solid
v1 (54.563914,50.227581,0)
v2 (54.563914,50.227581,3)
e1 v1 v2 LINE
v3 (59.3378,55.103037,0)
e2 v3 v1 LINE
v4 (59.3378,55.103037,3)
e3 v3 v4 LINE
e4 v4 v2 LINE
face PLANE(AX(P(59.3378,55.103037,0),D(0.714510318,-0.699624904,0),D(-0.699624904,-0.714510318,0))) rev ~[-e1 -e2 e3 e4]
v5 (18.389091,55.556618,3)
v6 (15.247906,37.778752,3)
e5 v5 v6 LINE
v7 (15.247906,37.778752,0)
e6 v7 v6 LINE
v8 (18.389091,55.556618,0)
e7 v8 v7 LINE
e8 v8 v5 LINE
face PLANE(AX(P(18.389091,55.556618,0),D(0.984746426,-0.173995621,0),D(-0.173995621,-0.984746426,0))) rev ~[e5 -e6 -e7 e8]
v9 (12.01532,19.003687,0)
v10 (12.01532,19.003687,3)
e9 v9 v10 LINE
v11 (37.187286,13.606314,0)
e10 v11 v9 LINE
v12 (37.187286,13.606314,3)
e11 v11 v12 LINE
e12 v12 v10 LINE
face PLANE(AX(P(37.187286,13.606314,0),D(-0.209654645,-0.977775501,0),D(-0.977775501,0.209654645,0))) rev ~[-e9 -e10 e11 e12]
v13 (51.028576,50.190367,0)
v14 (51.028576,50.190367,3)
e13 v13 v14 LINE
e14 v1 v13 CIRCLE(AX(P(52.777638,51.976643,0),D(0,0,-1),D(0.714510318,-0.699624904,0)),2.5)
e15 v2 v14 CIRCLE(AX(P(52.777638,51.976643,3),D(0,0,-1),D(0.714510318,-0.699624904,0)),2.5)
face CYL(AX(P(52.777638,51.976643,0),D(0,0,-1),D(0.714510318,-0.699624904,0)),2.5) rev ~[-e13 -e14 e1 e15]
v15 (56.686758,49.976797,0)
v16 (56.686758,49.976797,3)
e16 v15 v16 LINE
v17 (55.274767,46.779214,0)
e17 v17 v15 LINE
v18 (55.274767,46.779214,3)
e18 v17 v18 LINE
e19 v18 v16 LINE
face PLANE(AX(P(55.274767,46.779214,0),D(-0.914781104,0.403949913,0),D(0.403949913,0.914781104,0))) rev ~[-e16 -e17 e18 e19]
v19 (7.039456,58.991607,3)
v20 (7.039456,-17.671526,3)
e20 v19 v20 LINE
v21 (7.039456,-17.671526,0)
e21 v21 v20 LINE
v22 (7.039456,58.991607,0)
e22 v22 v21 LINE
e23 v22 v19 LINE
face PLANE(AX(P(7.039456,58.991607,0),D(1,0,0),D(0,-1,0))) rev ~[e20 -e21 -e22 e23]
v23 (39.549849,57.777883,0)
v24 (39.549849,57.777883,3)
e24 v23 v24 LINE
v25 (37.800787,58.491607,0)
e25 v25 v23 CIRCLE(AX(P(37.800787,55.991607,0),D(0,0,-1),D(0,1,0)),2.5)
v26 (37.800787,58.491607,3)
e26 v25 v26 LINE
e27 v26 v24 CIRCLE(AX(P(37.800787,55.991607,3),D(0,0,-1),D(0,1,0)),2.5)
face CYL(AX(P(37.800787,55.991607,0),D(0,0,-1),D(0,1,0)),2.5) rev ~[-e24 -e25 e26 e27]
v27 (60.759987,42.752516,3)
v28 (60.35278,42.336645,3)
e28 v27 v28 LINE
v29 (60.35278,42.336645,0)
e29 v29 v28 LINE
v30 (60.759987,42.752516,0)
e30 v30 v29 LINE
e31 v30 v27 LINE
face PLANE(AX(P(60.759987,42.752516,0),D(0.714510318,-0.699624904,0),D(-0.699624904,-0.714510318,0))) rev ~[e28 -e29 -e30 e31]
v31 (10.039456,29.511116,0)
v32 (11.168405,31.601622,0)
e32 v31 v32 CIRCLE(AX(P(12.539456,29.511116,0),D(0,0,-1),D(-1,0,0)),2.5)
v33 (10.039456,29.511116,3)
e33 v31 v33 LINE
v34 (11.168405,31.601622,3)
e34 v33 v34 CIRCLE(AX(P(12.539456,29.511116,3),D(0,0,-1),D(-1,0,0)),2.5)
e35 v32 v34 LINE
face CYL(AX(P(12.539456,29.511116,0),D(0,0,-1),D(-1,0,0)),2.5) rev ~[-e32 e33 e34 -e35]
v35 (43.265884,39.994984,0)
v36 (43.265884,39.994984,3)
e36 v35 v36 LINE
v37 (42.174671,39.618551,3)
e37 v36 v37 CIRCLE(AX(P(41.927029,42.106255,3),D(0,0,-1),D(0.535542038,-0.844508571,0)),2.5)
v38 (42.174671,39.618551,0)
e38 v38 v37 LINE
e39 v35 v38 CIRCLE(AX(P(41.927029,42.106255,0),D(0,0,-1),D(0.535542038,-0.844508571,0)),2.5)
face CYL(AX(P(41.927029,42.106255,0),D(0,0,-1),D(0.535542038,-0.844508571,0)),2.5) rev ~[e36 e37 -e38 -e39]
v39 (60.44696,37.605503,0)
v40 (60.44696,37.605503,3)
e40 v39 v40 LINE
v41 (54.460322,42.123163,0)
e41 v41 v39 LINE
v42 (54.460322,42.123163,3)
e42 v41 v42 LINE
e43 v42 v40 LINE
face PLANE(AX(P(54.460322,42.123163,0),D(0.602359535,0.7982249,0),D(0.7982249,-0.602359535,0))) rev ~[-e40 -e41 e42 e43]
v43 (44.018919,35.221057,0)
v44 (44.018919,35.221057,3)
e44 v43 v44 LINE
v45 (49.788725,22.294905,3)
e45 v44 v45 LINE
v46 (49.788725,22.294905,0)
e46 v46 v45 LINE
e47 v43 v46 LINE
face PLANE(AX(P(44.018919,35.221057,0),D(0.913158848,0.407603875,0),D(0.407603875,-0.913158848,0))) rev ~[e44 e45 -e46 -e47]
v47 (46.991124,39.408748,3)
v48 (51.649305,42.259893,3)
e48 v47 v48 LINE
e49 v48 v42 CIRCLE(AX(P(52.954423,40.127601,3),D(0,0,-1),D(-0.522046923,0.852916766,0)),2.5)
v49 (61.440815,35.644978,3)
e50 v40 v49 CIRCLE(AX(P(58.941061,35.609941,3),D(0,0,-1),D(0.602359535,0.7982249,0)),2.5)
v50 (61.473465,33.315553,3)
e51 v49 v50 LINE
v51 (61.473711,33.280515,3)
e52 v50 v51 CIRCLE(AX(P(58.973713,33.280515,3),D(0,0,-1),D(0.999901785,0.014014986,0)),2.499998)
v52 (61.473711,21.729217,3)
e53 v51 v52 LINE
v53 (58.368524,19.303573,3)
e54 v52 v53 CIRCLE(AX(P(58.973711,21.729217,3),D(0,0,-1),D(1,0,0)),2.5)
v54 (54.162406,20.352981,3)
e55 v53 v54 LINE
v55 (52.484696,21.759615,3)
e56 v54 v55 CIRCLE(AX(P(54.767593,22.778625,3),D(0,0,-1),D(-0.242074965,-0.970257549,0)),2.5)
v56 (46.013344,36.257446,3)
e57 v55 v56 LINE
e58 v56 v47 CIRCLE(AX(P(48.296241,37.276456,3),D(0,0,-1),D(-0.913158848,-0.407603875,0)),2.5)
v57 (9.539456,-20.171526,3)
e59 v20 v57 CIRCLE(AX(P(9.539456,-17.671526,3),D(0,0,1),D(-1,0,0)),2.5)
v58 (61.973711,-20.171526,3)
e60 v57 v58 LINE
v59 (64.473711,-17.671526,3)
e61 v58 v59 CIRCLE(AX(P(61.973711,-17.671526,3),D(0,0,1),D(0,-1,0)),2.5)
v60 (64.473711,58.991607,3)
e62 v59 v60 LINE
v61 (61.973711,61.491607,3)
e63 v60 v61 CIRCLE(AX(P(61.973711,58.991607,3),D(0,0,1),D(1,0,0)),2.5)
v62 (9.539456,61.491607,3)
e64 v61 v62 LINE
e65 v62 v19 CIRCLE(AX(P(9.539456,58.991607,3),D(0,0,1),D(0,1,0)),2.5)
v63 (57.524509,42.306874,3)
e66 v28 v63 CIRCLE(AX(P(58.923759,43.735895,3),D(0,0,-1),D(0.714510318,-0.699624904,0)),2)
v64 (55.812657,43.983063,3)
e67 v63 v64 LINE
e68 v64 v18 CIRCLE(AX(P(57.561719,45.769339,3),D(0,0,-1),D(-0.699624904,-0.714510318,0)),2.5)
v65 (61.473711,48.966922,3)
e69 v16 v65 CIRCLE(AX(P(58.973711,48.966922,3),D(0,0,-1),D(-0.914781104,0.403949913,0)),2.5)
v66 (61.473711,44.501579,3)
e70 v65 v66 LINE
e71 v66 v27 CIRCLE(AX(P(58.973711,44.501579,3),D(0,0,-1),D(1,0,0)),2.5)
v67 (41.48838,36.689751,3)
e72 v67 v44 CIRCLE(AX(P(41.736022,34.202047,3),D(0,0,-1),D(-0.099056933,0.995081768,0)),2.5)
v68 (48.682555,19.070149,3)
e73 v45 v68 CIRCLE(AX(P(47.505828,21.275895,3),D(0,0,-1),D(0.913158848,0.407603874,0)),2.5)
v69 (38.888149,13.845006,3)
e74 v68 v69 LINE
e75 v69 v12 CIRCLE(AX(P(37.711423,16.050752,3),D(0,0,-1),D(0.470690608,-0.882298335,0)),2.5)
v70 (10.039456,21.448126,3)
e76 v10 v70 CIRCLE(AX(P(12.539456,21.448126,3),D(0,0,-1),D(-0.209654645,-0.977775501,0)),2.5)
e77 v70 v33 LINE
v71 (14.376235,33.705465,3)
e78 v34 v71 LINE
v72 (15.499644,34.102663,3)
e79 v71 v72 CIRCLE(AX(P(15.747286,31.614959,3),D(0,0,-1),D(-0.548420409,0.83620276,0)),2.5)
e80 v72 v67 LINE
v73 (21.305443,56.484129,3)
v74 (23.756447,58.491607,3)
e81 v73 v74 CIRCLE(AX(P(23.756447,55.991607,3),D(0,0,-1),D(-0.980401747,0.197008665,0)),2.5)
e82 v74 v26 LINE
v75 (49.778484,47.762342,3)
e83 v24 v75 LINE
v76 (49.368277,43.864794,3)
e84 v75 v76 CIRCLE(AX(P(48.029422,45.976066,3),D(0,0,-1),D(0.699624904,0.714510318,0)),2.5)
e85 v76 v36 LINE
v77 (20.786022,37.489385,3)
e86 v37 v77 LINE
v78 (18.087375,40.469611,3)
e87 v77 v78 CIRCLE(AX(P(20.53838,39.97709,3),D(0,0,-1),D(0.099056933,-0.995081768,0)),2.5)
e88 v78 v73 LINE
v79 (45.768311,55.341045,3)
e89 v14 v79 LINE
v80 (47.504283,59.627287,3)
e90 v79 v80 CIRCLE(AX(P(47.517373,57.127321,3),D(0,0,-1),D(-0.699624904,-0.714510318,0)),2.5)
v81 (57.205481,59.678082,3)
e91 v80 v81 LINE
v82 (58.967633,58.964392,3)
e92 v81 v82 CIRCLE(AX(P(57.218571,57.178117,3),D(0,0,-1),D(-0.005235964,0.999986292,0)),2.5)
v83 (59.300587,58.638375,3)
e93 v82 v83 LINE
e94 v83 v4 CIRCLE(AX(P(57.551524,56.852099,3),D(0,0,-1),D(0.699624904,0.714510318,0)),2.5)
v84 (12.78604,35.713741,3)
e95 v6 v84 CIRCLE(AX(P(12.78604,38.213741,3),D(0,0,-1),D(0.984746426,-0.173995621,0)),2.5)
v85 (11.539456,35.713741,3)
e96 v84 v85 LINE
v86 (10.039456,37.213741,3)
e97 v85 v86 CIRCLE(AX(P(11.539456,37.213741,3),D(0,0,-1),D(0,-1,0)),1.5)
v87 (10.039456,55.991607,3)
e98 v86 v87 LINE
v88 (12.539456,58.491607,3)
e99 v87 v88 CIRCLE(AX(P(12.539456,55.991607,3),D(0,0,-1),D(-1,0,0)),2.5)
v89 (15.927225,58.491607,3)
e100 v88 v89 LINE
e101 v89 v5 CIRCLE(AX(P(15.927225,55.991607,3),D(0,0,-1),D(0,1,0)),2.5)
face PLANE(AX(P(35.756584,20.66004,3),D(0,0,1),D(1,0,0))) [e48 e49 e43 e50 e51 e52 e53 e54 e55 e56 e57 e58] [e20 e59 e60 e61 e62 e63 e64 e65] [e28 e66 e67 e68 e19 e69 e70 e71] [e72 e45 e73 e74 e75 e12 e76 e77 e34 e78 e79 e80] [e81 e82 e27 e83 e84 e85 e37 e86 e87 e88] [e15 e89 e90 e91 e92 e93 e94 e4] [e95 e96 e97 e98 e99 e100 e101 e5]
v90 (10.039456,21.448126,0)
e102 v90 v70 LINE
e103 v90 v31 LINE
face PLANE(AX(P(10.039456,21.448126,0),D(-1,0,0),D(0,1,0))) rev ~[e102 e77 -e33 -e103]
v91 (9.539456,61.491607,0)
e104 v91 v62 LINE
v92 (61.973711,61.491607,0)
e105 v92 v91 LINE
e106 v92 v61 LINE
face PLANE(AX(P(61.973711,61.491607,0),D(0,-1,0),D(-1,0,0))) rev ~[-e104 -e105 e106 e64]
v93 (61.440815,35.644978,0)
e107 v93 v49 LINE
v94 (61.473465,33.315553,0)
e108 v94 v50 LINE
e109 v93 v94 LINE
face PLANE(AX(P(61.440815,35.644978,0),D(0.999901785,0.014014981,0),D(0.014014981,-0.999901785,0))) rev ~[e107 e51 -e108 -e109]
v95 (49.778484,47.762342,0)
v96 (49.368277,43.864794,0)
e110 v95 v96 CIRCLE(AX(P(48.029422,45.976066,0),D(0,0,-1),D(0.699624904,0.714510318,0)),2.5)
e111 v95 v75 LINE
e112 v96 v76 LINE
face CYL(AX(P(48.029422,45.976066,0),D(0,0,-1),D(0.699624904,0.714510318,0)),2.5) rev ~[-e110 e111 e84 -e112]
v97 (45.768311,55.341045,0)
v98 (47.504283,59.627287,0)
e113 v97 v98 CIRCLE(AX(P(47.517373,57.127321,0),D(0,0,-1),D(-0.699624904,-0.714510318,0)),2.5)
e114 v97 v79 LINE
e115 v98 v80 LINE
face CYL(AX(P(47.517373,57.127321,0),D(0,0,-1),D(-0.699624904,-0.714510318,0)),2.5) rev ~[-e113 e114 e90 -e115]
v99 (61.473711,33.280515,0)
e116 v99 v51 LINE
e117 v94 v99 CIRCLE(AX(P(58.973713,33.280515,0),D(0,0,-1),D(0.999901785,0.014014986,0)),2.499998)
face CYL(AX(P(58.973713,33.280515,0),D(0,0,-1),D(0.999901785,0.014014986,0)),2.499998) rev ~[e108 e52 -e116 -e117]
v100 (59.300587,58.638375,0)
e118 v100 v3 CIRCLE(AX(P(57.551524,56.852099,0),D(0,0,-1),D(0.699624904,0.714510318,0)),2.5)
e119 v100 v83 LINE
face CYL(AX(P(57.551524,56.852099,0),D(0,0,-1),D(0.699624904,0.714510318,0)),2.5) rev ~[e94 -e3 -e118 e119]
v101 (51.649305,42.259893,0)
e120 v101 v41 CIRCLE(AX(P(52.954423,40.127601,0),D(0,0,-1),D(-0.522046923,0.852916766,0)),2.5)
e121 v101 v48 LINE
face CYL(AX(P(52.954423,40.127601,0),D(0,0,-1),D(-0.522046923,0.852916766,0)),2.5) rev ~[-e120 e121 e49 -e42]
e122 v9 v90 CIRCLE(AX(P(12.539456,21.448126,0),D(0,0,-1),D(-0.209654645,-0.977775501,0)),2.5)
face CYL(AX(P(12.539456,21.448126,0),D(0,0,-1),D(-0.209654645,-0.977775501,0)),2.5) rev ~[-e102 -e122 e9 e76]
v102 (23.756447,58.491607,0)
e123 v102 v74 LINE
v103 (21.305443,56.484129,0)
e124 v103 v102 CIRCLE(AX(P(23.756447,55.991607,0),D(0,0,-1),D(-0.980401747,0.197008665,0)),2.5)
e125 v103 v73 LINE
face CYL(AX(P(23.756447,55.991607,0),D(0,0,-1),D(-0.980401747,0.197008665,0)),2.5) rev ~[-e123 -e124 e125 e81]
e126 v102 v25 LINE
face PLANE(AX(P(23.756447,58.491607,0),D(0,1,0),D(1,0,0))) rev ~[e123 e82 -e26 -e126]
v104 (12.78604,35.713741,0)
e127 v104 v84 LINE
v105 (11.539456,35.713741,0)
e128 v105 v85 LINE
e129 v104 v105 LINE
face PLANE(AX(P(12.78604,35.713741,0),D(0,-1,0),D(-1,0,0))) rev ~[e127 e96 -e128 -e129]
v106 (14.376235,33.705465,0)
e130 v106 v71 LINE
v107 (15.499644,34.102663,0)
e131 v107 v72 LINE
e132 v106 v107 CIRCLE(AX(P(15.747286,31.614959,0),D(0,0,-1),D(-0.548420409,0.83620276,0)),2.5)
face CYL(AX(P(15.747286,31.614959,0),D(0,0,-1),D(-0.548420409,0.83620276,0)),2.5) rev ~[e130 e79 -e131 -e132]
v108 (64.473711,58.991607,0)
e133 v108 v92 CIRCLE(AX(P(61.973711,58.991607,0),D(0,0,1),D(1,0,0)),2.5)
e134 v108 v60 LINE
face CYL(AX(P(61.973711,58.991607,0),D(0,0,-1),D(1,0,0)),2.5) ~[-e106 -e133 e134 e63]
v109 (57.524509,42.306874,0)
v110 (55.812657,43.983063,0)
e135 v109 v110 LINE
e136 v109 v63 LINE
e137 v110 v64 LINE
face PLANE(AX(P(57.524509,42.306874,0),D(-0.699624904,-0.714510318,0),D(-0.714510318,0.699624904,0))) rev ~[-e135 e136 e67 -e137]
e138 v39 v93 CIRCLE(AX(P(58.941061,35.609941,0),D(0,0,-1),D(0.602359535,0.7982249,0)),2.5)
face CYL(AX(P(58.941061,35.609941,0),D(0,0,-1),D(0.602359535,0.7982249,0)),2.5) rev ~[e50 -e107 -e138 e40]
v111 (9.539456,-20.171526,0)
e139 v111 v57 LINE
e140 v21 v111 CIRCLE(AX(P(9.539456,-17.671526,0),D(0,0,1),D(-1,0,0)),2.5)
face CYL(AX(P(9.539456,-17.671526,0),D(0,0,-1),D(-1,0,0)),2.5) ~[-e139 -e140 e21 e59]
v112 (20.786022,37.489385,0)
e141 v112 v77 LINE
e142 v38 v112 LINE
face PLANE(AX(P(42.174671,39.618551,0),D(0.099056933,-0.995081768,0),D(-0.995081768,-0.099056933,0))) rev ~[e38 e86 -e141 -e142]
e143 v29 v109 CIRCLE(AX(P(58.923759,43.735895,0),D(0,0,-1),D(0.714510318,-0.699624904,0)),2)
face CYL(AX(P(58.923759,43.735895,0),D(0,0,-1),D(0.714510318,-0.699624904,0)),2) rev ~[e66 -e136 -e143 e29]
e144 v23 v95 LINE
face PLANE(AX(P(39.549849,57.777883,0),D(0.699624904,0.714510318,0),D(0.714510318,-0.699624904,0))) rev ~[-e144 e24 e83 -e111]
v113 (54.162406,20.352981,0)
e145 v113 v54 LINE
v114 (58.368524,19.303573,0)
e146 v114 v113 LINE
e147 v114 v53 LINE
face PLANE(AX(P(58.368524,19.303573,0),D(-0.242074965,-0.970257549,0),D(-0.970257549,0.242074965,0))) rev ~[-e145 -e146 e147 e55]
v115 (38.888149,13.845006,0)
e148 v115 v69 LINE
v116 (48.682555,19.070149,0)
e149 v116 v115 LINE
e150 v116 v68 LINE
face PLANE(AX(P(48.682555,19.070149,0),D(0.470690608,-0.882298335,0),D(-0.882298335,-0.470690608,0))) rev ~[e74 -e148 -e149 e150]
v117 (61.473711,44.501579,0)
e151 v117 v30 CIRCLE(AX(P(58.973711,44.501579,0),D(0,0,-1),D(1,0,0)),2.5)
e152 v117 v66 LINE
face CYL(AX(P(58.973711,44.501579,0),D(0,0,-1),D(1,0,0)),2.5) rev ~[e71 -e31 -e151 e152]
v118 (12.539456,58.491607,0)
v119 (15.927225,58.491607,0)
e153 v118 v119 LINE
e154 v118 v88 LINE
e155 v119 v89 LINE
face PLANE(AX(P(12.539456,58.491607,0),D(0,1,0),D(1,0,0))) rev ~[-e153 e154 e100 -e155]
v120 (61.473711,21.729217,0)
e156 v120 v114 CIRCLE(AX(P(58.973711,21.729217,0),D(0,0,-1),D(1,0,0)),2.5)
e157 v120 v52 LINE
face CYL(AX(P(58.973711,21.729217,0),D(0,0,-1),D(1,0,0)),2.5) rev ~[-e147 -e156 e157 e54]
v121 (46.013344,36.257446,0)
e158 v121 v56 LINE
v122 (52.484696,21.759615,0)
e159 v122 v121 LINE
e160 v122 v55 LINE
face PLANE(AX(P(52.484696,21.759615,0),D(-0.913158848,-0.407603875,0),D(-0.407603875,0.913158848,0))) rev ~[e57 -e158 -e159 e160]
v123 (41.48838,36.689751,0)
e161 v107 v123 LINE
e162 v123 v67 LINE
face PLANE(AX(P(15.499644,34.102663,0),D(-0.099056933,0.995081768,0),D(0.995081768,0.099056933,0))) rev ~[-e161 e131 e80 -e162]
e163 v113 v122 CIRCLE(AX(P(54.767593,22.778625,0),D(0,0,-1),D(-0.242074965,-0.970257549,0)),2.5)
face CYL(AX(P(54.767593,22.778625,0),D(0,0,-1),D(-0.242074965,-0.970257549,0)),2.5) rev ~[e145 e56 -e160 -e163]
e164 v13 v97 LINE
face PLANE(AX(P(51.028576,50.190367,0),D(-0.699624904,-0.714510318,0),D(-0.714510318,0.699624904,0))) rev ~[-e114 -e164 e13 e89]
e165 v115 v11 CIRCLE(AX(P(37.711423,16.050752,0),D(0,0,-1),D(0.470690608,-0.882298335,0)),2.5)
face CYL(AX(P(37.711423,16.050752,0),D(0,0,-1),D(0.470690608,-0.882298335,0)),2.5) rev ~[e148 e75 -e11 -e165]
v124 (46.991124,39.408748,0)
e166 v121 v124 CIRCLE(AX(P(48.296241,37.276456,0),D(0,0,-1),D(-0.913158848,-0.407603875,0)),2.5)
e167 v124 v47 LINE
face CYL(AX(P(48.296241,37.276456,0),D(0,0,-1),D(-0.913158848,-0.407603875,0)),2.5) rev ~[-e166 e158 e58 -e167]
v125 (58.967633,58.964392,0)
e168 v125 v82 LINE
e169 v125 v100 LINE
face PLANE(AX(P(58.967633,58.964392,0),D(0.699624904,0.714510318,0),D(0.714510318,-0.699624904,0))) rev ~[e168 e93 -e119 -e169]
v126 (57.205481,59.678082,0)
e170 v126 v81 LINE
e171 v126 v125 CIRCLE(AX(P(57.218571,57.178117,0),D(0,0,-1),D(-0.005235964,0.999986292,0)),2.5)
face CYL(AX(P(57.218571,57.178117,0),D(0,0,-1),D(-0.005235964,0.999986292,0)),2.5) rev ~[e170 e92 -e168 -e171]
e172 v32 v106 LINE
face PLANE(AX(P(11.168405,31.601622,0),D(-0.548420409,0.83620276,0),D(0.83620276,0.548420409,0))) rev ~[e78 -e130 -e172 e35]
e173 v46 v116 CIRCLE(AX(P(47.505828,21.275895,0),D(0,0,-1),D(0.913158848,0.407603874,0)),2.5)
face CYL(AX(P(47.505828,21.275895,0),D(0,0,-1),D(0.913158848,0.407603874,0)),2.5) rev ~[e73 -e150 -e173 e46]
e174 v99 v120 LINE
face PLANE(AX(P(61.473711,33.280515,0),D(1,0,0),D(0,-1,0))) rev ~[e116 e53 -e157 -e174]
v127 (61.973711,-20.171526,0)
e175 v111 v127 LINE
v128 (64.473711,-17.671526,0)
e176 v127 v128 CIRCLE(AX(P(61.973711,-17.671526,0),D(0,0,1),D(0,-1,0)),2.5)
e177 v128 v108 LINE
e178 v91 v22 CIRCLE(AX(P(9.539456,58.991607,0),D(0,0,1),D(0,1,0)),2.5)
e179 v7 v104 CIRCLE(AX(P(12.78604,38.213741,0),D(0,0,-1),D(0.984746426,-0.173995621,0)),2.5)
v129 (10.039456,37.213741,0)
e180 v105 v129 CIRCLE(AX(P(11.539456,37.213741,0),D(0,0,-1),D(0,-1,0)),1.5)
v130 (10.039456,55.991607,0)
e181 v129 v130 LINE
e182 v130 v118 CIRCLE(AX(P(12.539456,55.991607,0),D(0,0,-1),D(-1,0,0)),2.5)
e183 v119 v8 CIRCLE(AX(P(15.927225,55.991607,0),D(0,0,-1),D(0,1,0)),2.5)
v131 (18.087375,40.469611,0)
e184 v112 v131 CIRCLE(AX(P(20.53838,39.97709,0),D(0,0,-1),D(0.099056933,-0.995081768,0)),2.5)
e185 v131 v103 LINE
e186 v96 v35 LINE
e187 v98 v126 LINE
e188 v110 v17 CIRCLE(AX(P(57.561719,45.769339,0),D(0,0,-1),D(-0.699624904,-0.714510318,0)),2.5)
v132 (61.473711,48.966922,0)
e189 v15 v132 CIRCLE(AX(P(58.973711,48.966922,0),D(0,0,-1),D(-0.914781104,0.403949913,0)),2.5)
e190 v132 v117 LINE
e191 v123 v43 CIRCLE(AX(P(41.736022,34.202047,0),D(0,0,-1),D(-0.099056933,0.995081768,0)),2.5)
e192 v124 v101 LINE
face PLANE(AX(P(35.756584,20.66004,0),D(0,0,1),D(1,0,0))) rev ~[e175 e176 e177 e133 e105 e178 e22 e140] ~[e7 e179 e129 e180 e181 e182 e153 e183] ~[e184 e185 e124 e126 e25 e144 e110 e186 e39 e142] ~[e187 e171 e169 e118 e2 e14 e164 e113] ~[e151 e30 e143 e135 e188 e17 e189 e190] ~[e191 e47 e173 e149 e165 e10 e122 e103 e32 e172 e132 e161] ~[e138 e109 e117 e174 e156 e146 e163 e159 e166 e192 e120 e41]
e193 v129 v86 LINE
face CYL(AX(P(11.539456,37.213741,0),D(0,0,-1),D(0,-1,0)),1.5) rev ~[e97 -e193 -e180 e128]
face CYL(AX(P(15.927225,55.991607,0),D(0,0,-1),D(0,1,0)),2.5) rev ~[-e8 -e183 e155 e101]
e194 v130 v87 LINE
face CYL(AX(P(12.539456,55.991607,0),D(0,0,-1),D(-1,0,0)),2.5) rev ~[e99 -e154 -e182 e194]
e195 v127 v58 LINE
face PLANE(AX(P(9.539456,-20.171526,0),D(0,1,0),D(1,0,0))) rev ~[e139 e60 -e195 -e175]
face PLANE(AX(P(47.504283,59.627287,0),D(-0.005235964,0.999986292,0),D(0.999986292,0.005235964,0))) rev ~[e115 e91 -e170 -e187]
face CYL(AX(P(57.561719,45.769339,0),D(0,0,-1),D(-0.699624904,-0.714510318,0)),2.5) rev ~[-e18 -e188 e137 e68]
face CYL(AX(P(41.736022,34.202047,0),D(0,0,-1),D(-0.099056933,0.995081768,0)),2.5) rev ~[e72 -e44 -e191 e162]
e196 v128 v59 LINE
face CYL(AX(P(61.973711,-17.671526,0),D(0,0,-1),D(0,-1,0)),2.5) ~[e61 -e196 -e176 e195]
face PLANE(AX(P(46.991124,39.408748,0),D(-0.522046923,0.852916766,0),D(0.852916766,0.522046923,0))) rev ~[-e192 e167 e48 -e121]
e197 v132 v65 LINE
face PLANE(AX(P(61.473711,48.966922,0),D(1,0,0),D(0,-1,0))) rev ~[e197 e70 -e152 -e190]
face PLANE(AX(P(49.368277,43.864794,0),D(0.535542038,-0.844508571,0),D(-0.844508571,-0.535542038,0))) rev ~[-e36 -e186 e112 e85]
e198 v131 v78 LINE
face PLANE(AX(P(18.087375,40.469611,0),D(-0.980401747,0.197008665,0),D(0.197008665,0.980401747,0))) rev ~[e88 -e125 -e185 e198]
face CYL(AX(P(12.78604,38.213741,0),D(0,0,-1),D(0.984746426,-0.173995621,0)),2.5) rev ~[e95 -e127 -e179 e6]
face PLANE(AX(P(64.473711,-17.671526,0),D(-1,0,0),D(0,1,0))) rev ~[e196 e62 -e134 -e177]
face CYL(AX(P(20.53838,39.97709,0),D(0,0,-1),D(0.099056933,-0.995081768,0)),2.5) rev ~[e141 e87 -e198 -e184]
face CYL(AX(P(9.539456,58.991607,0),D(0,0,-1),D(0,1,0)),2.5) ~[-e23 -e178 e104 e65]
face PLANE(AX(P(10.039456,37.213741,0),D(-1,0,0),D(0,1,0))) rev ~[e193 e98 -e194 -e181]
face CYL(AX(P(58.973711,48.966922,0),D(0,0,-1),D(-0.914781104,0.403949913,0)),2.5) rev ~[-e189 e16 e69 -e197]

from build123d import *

# Parameters (mm, degrees)
F2_DEPTH = 3
F3_ANGLE = -180


with BuildPart() as f2:
    # F1 (on Top) → F2 (new body)
    with BuildSketch(Plane.XY):
        with BuildLine():
            ThreePointArc((9.5394564345, 61.4916072786), (7.7716894816, 60.7593742316), (7.0394564345, 58.9916072786))
            Line((7.0394564345, 58.9916072786), (7.0394564345, -17.6715264808))
            ThreePointArc((7.0394564345, -17.6715264808), (7.7716894816, -19.4392934337), (9.5394564345, -20.1715264808))
            Line((9.5394564345, -20.1715264808), (61.973710984, -20.1715264808))
            ThreePointArc((61.973710984, -20.1715264808), (63.741477937, -19.4392934337), (64.473710984, -17.6715264808))
            Line((64.473710984, -17.6715264808), (64.473710984, 58.9916072786))
            ThreePointArc((64.473710984, 58.9916072786), (63.741477937, 60.7593742316), (61.973710984, 61.4916072786))
            Line((61.973710984, 61.4916072786), (9.5394564345, 61.4916072786))
        make_face()
        with BuildLine():
            ThreePointArc((10.0394564345, 29.5111155982), (10.339726047, 30.6990491915), (11.1684054122, 31.6016224971))
            Line((11.1684054122, 31.6016224971), (14.3762351945, 33.7054654956))
            ThreePointArc((14.3762351945, 33.7054654956), (14.9139294436, 33.9719729133), (15.4996438847, 34.1026630155))
            Line((15.4996438847, 34.1026630155), (41.488379603, 36.6897513669))
            ThreePointArc((41.488379603, 36.6897513669), (42.9909448679, 36.3642607287), (44.0189190549, 35.2210566343))
            Line((44.0189190549, 35.2210566343), (49.7887253608, 22.2949045332))
            ThreePointArc((49.7887253608, 22.2949045332), (49.8705715629, 20.4647296223), (48.6825547612, 19.0701490101))
            Line((48.6825547612, 19.0701490101), (38.8881494106, 13.8450064155))
            ThreePointArc((38.8881494106, 13.8450064155), (38.0588591774, 13.5750123576), (37.187286277, 13.6063135007))
            Line((37.187286277, 13.6063135007), (12.0153198212, 19.0036871275))
            ThreePointArc((12.0153198212, 19.0036871275), (10.5951903091, 19.8765568437), (10.0394564345, 21.4481258791))
            Line((10.0394564345, 21.4481258791), (10.0394564345, 29.5111155982))
        make_face(mode=Mode.SUBTRACT)
        with BuildLine():
            ThreePointArc((15.9272251247, 58.4916072786), (17.8426196837, 57.5982384383), (18.38909119, 55.5566182253))
            Line((18.38909119, 55.5566182253), (15.2479060665, 37.7787523161))
            ThreePointArc((15.2479060665, 37.7787523161), (14.3926711609, 36.2983468103), (12.7860400011, 35.7137413693))
            Line((12.7860400011, 35.7137413693), (11.5394564345, 35.7137413693))
            ThreePointArc((11.5394564345, 35.7137413693), (10.4787962628, 36.1530811975), (10.0394564345, 37.2137413693))
            Line((10.0394564345, 37.2137413693), (10.0394564345, 55.9916072786))
            ThreePointArc((10.0394564345, 55.9916072786), (10.7716894816, 57.7593742316), (12.5394564345, 58.4916072786))
            Line((12.5394564345, 58.4916072786), (15.9272251247, 58.4916072786))
        make_face(mode=Mode.SUBTRACT)
        with BuildLine():
            Line((42.1746714548, 39.6185510587), (20.7860221636, 37.4893853296))
            ThreePointArc((20.7860221636, 37.4893853296), (18.6852371117, 38.299036692), (18.0873754635, 40.4696114113))
            Line((18.0873754635, 40.4696114113), (21.3054426802, 56.4841289415))
            ThreePointArc((21.3054426802, 56.4841289415), (22.1723549039, 57.9256838227), (23.7564470481, 58.4916072786))
            Line((23.7564470481, 58.4916072786), (37.8007872021, 58.4916072786))
            ThreePointArc((37.8007872021, 58.4916072786), (38.7453269087, 58.3063091477), (39.5498494615, 57.7778830727))
            Line((39.5498494615, 57.7778830727), (49.7784843846, 47.7623415937))
            ThreePointArc((49.7784843846, 47.7623415937), (50.5156898059, 45.7143923011), (49.3682772196, 43.8647943731))
            Line((49.3682772196, 43.8647943731), (43.265884217, 39.994984051))
            ThreePointArc((43.265884217, 39.994984051), (42.7423014517, 39.7429249823), (42.1746714548, 39.6185510587))
        make_face(mode=Mode.SUBTRACT)
        with BuildLine():
            ThreePointArc((46.0133442347, 36.2574461736), (45.9085359015, 38.0173085241), (46.991124046, 39.4087477749))
            Line((46.991124046, 39.4087477749), (51.6493053984, 42.2598926234))
            ThreePointArc((51.6493053984, 42.2598926234), (53.0758807488, 42.6246485541), (54.4603215443, 42.1231629578))
            Line((54.4603215443, 42.1231629578), (60.4469597614, 37.6055030683))
            ThreePointArc((60.4469597614, 37.6055030683), (61.1709104619, 36.7403261682), (61.4408153873, 35.6449782708))
            Line((61.4408153873, 35.6449782708), (61.4734654473, 33.3155527949))
            ThreePointArc((61.4734654473, 33.3155527949), (61.4736495991, 33.2980344991), (61.473710984, 33.2805153429))
            Line((61.473710984, 33.2805153429), (61.473710984, 21.7292172013))
            ThreePointArc((61.473710984, 21.7292172013), (60.5127092735, 19.7590689163), (58.3685235721, 19.3035733287))
            Line((58.3685235721, 19.3035733287), (54.162405597, 20.35298115))
            ThreePointArc((54.162405597, 20.35298115), (53.161382251, 20.8628779095), (52.4846958892, 21.7596153363))
            Line((52.4846958892, 21.7596153363), (46.0133442347, 36.2574461736))
        make_face(mode=Mode.SUBTRACT)
        with BuildLine():
            Line((57.524509199, 42.3068744408), (55.8126571334, 43.9830634434))
            ThreePointArc((55.8126571334, 43.9830634434), (55.1067308347, 45.2970774673), (55.2747666339, 46.7792140212))
            Line((55.2747666339, 46.7792140212), (56.6867582251, 49.9767966496))
            ThreePointArc((56.6867582251, 49.9767966496), (59.4897623878, 51.4130802722), (61.473710984, 48.9669218659))
            Line((61.473710984, 48.9669218659), (61.473710984, 44.5015785165))
            ThreePointArc((61.473710984, 44.5015785165), (61.2884128531, 43.5570388099), (60.7599867781, 42.7525162571))
            Line((60.7599867781, 42.7525162571), (60.3527796418, 42.3366452686))
            ThreePointArc((60.3527796418, 42.3366452686), (58.9448101607, 41.736005867), (57.524509199, 42.3068744408))
        make_face(mode=Mode.SUBTRACT)
        with BuildLine():
            Line((51.0285760641, 50.1903671406), (45.7683108872, 55.3410450625))
            ThreePointArc((45.7683108872, 55.3410450625), (45.2002064135, 58.0657974579), (47.504283237, 59.6272865873))
            Line((47.504283237, 59.6272865873), (57.2054807654, 59.6780824029))
            ThreePointArc((57.2054807654, 59.6780824029), (58.1570472763, 59.4952834054), (58.9676329344, 58.9643924665))
            Line((58.9676329344, 58.9643924665), (59.3005865812, 58.6383752525))
            ThreePointArc((59.3005865812, 58.6383752525), (60.0513858333, 56.8784134011), (59.337800116, 55.1030371989))
            Line((59.337800116, 55.1030371989), (54.5639141177, 50.2275806753))
            ThreePointArc((54.5639141177, 50.2275806753), (52.8039522663, 49.4767814233), (51.0285760641, 50.1903671406))
        make_face(mode=Mode.SUBTRACT)
    extrude(amount=F2_DEPTH)


with BuildPart() as f3_1:
    # F3: copy of F2
    add(f2.part.rotate(Axis((35.7565837093, -20.1715264808, 3), (1, 0, 0)), F3_ANGLE))


solid = f2.part
